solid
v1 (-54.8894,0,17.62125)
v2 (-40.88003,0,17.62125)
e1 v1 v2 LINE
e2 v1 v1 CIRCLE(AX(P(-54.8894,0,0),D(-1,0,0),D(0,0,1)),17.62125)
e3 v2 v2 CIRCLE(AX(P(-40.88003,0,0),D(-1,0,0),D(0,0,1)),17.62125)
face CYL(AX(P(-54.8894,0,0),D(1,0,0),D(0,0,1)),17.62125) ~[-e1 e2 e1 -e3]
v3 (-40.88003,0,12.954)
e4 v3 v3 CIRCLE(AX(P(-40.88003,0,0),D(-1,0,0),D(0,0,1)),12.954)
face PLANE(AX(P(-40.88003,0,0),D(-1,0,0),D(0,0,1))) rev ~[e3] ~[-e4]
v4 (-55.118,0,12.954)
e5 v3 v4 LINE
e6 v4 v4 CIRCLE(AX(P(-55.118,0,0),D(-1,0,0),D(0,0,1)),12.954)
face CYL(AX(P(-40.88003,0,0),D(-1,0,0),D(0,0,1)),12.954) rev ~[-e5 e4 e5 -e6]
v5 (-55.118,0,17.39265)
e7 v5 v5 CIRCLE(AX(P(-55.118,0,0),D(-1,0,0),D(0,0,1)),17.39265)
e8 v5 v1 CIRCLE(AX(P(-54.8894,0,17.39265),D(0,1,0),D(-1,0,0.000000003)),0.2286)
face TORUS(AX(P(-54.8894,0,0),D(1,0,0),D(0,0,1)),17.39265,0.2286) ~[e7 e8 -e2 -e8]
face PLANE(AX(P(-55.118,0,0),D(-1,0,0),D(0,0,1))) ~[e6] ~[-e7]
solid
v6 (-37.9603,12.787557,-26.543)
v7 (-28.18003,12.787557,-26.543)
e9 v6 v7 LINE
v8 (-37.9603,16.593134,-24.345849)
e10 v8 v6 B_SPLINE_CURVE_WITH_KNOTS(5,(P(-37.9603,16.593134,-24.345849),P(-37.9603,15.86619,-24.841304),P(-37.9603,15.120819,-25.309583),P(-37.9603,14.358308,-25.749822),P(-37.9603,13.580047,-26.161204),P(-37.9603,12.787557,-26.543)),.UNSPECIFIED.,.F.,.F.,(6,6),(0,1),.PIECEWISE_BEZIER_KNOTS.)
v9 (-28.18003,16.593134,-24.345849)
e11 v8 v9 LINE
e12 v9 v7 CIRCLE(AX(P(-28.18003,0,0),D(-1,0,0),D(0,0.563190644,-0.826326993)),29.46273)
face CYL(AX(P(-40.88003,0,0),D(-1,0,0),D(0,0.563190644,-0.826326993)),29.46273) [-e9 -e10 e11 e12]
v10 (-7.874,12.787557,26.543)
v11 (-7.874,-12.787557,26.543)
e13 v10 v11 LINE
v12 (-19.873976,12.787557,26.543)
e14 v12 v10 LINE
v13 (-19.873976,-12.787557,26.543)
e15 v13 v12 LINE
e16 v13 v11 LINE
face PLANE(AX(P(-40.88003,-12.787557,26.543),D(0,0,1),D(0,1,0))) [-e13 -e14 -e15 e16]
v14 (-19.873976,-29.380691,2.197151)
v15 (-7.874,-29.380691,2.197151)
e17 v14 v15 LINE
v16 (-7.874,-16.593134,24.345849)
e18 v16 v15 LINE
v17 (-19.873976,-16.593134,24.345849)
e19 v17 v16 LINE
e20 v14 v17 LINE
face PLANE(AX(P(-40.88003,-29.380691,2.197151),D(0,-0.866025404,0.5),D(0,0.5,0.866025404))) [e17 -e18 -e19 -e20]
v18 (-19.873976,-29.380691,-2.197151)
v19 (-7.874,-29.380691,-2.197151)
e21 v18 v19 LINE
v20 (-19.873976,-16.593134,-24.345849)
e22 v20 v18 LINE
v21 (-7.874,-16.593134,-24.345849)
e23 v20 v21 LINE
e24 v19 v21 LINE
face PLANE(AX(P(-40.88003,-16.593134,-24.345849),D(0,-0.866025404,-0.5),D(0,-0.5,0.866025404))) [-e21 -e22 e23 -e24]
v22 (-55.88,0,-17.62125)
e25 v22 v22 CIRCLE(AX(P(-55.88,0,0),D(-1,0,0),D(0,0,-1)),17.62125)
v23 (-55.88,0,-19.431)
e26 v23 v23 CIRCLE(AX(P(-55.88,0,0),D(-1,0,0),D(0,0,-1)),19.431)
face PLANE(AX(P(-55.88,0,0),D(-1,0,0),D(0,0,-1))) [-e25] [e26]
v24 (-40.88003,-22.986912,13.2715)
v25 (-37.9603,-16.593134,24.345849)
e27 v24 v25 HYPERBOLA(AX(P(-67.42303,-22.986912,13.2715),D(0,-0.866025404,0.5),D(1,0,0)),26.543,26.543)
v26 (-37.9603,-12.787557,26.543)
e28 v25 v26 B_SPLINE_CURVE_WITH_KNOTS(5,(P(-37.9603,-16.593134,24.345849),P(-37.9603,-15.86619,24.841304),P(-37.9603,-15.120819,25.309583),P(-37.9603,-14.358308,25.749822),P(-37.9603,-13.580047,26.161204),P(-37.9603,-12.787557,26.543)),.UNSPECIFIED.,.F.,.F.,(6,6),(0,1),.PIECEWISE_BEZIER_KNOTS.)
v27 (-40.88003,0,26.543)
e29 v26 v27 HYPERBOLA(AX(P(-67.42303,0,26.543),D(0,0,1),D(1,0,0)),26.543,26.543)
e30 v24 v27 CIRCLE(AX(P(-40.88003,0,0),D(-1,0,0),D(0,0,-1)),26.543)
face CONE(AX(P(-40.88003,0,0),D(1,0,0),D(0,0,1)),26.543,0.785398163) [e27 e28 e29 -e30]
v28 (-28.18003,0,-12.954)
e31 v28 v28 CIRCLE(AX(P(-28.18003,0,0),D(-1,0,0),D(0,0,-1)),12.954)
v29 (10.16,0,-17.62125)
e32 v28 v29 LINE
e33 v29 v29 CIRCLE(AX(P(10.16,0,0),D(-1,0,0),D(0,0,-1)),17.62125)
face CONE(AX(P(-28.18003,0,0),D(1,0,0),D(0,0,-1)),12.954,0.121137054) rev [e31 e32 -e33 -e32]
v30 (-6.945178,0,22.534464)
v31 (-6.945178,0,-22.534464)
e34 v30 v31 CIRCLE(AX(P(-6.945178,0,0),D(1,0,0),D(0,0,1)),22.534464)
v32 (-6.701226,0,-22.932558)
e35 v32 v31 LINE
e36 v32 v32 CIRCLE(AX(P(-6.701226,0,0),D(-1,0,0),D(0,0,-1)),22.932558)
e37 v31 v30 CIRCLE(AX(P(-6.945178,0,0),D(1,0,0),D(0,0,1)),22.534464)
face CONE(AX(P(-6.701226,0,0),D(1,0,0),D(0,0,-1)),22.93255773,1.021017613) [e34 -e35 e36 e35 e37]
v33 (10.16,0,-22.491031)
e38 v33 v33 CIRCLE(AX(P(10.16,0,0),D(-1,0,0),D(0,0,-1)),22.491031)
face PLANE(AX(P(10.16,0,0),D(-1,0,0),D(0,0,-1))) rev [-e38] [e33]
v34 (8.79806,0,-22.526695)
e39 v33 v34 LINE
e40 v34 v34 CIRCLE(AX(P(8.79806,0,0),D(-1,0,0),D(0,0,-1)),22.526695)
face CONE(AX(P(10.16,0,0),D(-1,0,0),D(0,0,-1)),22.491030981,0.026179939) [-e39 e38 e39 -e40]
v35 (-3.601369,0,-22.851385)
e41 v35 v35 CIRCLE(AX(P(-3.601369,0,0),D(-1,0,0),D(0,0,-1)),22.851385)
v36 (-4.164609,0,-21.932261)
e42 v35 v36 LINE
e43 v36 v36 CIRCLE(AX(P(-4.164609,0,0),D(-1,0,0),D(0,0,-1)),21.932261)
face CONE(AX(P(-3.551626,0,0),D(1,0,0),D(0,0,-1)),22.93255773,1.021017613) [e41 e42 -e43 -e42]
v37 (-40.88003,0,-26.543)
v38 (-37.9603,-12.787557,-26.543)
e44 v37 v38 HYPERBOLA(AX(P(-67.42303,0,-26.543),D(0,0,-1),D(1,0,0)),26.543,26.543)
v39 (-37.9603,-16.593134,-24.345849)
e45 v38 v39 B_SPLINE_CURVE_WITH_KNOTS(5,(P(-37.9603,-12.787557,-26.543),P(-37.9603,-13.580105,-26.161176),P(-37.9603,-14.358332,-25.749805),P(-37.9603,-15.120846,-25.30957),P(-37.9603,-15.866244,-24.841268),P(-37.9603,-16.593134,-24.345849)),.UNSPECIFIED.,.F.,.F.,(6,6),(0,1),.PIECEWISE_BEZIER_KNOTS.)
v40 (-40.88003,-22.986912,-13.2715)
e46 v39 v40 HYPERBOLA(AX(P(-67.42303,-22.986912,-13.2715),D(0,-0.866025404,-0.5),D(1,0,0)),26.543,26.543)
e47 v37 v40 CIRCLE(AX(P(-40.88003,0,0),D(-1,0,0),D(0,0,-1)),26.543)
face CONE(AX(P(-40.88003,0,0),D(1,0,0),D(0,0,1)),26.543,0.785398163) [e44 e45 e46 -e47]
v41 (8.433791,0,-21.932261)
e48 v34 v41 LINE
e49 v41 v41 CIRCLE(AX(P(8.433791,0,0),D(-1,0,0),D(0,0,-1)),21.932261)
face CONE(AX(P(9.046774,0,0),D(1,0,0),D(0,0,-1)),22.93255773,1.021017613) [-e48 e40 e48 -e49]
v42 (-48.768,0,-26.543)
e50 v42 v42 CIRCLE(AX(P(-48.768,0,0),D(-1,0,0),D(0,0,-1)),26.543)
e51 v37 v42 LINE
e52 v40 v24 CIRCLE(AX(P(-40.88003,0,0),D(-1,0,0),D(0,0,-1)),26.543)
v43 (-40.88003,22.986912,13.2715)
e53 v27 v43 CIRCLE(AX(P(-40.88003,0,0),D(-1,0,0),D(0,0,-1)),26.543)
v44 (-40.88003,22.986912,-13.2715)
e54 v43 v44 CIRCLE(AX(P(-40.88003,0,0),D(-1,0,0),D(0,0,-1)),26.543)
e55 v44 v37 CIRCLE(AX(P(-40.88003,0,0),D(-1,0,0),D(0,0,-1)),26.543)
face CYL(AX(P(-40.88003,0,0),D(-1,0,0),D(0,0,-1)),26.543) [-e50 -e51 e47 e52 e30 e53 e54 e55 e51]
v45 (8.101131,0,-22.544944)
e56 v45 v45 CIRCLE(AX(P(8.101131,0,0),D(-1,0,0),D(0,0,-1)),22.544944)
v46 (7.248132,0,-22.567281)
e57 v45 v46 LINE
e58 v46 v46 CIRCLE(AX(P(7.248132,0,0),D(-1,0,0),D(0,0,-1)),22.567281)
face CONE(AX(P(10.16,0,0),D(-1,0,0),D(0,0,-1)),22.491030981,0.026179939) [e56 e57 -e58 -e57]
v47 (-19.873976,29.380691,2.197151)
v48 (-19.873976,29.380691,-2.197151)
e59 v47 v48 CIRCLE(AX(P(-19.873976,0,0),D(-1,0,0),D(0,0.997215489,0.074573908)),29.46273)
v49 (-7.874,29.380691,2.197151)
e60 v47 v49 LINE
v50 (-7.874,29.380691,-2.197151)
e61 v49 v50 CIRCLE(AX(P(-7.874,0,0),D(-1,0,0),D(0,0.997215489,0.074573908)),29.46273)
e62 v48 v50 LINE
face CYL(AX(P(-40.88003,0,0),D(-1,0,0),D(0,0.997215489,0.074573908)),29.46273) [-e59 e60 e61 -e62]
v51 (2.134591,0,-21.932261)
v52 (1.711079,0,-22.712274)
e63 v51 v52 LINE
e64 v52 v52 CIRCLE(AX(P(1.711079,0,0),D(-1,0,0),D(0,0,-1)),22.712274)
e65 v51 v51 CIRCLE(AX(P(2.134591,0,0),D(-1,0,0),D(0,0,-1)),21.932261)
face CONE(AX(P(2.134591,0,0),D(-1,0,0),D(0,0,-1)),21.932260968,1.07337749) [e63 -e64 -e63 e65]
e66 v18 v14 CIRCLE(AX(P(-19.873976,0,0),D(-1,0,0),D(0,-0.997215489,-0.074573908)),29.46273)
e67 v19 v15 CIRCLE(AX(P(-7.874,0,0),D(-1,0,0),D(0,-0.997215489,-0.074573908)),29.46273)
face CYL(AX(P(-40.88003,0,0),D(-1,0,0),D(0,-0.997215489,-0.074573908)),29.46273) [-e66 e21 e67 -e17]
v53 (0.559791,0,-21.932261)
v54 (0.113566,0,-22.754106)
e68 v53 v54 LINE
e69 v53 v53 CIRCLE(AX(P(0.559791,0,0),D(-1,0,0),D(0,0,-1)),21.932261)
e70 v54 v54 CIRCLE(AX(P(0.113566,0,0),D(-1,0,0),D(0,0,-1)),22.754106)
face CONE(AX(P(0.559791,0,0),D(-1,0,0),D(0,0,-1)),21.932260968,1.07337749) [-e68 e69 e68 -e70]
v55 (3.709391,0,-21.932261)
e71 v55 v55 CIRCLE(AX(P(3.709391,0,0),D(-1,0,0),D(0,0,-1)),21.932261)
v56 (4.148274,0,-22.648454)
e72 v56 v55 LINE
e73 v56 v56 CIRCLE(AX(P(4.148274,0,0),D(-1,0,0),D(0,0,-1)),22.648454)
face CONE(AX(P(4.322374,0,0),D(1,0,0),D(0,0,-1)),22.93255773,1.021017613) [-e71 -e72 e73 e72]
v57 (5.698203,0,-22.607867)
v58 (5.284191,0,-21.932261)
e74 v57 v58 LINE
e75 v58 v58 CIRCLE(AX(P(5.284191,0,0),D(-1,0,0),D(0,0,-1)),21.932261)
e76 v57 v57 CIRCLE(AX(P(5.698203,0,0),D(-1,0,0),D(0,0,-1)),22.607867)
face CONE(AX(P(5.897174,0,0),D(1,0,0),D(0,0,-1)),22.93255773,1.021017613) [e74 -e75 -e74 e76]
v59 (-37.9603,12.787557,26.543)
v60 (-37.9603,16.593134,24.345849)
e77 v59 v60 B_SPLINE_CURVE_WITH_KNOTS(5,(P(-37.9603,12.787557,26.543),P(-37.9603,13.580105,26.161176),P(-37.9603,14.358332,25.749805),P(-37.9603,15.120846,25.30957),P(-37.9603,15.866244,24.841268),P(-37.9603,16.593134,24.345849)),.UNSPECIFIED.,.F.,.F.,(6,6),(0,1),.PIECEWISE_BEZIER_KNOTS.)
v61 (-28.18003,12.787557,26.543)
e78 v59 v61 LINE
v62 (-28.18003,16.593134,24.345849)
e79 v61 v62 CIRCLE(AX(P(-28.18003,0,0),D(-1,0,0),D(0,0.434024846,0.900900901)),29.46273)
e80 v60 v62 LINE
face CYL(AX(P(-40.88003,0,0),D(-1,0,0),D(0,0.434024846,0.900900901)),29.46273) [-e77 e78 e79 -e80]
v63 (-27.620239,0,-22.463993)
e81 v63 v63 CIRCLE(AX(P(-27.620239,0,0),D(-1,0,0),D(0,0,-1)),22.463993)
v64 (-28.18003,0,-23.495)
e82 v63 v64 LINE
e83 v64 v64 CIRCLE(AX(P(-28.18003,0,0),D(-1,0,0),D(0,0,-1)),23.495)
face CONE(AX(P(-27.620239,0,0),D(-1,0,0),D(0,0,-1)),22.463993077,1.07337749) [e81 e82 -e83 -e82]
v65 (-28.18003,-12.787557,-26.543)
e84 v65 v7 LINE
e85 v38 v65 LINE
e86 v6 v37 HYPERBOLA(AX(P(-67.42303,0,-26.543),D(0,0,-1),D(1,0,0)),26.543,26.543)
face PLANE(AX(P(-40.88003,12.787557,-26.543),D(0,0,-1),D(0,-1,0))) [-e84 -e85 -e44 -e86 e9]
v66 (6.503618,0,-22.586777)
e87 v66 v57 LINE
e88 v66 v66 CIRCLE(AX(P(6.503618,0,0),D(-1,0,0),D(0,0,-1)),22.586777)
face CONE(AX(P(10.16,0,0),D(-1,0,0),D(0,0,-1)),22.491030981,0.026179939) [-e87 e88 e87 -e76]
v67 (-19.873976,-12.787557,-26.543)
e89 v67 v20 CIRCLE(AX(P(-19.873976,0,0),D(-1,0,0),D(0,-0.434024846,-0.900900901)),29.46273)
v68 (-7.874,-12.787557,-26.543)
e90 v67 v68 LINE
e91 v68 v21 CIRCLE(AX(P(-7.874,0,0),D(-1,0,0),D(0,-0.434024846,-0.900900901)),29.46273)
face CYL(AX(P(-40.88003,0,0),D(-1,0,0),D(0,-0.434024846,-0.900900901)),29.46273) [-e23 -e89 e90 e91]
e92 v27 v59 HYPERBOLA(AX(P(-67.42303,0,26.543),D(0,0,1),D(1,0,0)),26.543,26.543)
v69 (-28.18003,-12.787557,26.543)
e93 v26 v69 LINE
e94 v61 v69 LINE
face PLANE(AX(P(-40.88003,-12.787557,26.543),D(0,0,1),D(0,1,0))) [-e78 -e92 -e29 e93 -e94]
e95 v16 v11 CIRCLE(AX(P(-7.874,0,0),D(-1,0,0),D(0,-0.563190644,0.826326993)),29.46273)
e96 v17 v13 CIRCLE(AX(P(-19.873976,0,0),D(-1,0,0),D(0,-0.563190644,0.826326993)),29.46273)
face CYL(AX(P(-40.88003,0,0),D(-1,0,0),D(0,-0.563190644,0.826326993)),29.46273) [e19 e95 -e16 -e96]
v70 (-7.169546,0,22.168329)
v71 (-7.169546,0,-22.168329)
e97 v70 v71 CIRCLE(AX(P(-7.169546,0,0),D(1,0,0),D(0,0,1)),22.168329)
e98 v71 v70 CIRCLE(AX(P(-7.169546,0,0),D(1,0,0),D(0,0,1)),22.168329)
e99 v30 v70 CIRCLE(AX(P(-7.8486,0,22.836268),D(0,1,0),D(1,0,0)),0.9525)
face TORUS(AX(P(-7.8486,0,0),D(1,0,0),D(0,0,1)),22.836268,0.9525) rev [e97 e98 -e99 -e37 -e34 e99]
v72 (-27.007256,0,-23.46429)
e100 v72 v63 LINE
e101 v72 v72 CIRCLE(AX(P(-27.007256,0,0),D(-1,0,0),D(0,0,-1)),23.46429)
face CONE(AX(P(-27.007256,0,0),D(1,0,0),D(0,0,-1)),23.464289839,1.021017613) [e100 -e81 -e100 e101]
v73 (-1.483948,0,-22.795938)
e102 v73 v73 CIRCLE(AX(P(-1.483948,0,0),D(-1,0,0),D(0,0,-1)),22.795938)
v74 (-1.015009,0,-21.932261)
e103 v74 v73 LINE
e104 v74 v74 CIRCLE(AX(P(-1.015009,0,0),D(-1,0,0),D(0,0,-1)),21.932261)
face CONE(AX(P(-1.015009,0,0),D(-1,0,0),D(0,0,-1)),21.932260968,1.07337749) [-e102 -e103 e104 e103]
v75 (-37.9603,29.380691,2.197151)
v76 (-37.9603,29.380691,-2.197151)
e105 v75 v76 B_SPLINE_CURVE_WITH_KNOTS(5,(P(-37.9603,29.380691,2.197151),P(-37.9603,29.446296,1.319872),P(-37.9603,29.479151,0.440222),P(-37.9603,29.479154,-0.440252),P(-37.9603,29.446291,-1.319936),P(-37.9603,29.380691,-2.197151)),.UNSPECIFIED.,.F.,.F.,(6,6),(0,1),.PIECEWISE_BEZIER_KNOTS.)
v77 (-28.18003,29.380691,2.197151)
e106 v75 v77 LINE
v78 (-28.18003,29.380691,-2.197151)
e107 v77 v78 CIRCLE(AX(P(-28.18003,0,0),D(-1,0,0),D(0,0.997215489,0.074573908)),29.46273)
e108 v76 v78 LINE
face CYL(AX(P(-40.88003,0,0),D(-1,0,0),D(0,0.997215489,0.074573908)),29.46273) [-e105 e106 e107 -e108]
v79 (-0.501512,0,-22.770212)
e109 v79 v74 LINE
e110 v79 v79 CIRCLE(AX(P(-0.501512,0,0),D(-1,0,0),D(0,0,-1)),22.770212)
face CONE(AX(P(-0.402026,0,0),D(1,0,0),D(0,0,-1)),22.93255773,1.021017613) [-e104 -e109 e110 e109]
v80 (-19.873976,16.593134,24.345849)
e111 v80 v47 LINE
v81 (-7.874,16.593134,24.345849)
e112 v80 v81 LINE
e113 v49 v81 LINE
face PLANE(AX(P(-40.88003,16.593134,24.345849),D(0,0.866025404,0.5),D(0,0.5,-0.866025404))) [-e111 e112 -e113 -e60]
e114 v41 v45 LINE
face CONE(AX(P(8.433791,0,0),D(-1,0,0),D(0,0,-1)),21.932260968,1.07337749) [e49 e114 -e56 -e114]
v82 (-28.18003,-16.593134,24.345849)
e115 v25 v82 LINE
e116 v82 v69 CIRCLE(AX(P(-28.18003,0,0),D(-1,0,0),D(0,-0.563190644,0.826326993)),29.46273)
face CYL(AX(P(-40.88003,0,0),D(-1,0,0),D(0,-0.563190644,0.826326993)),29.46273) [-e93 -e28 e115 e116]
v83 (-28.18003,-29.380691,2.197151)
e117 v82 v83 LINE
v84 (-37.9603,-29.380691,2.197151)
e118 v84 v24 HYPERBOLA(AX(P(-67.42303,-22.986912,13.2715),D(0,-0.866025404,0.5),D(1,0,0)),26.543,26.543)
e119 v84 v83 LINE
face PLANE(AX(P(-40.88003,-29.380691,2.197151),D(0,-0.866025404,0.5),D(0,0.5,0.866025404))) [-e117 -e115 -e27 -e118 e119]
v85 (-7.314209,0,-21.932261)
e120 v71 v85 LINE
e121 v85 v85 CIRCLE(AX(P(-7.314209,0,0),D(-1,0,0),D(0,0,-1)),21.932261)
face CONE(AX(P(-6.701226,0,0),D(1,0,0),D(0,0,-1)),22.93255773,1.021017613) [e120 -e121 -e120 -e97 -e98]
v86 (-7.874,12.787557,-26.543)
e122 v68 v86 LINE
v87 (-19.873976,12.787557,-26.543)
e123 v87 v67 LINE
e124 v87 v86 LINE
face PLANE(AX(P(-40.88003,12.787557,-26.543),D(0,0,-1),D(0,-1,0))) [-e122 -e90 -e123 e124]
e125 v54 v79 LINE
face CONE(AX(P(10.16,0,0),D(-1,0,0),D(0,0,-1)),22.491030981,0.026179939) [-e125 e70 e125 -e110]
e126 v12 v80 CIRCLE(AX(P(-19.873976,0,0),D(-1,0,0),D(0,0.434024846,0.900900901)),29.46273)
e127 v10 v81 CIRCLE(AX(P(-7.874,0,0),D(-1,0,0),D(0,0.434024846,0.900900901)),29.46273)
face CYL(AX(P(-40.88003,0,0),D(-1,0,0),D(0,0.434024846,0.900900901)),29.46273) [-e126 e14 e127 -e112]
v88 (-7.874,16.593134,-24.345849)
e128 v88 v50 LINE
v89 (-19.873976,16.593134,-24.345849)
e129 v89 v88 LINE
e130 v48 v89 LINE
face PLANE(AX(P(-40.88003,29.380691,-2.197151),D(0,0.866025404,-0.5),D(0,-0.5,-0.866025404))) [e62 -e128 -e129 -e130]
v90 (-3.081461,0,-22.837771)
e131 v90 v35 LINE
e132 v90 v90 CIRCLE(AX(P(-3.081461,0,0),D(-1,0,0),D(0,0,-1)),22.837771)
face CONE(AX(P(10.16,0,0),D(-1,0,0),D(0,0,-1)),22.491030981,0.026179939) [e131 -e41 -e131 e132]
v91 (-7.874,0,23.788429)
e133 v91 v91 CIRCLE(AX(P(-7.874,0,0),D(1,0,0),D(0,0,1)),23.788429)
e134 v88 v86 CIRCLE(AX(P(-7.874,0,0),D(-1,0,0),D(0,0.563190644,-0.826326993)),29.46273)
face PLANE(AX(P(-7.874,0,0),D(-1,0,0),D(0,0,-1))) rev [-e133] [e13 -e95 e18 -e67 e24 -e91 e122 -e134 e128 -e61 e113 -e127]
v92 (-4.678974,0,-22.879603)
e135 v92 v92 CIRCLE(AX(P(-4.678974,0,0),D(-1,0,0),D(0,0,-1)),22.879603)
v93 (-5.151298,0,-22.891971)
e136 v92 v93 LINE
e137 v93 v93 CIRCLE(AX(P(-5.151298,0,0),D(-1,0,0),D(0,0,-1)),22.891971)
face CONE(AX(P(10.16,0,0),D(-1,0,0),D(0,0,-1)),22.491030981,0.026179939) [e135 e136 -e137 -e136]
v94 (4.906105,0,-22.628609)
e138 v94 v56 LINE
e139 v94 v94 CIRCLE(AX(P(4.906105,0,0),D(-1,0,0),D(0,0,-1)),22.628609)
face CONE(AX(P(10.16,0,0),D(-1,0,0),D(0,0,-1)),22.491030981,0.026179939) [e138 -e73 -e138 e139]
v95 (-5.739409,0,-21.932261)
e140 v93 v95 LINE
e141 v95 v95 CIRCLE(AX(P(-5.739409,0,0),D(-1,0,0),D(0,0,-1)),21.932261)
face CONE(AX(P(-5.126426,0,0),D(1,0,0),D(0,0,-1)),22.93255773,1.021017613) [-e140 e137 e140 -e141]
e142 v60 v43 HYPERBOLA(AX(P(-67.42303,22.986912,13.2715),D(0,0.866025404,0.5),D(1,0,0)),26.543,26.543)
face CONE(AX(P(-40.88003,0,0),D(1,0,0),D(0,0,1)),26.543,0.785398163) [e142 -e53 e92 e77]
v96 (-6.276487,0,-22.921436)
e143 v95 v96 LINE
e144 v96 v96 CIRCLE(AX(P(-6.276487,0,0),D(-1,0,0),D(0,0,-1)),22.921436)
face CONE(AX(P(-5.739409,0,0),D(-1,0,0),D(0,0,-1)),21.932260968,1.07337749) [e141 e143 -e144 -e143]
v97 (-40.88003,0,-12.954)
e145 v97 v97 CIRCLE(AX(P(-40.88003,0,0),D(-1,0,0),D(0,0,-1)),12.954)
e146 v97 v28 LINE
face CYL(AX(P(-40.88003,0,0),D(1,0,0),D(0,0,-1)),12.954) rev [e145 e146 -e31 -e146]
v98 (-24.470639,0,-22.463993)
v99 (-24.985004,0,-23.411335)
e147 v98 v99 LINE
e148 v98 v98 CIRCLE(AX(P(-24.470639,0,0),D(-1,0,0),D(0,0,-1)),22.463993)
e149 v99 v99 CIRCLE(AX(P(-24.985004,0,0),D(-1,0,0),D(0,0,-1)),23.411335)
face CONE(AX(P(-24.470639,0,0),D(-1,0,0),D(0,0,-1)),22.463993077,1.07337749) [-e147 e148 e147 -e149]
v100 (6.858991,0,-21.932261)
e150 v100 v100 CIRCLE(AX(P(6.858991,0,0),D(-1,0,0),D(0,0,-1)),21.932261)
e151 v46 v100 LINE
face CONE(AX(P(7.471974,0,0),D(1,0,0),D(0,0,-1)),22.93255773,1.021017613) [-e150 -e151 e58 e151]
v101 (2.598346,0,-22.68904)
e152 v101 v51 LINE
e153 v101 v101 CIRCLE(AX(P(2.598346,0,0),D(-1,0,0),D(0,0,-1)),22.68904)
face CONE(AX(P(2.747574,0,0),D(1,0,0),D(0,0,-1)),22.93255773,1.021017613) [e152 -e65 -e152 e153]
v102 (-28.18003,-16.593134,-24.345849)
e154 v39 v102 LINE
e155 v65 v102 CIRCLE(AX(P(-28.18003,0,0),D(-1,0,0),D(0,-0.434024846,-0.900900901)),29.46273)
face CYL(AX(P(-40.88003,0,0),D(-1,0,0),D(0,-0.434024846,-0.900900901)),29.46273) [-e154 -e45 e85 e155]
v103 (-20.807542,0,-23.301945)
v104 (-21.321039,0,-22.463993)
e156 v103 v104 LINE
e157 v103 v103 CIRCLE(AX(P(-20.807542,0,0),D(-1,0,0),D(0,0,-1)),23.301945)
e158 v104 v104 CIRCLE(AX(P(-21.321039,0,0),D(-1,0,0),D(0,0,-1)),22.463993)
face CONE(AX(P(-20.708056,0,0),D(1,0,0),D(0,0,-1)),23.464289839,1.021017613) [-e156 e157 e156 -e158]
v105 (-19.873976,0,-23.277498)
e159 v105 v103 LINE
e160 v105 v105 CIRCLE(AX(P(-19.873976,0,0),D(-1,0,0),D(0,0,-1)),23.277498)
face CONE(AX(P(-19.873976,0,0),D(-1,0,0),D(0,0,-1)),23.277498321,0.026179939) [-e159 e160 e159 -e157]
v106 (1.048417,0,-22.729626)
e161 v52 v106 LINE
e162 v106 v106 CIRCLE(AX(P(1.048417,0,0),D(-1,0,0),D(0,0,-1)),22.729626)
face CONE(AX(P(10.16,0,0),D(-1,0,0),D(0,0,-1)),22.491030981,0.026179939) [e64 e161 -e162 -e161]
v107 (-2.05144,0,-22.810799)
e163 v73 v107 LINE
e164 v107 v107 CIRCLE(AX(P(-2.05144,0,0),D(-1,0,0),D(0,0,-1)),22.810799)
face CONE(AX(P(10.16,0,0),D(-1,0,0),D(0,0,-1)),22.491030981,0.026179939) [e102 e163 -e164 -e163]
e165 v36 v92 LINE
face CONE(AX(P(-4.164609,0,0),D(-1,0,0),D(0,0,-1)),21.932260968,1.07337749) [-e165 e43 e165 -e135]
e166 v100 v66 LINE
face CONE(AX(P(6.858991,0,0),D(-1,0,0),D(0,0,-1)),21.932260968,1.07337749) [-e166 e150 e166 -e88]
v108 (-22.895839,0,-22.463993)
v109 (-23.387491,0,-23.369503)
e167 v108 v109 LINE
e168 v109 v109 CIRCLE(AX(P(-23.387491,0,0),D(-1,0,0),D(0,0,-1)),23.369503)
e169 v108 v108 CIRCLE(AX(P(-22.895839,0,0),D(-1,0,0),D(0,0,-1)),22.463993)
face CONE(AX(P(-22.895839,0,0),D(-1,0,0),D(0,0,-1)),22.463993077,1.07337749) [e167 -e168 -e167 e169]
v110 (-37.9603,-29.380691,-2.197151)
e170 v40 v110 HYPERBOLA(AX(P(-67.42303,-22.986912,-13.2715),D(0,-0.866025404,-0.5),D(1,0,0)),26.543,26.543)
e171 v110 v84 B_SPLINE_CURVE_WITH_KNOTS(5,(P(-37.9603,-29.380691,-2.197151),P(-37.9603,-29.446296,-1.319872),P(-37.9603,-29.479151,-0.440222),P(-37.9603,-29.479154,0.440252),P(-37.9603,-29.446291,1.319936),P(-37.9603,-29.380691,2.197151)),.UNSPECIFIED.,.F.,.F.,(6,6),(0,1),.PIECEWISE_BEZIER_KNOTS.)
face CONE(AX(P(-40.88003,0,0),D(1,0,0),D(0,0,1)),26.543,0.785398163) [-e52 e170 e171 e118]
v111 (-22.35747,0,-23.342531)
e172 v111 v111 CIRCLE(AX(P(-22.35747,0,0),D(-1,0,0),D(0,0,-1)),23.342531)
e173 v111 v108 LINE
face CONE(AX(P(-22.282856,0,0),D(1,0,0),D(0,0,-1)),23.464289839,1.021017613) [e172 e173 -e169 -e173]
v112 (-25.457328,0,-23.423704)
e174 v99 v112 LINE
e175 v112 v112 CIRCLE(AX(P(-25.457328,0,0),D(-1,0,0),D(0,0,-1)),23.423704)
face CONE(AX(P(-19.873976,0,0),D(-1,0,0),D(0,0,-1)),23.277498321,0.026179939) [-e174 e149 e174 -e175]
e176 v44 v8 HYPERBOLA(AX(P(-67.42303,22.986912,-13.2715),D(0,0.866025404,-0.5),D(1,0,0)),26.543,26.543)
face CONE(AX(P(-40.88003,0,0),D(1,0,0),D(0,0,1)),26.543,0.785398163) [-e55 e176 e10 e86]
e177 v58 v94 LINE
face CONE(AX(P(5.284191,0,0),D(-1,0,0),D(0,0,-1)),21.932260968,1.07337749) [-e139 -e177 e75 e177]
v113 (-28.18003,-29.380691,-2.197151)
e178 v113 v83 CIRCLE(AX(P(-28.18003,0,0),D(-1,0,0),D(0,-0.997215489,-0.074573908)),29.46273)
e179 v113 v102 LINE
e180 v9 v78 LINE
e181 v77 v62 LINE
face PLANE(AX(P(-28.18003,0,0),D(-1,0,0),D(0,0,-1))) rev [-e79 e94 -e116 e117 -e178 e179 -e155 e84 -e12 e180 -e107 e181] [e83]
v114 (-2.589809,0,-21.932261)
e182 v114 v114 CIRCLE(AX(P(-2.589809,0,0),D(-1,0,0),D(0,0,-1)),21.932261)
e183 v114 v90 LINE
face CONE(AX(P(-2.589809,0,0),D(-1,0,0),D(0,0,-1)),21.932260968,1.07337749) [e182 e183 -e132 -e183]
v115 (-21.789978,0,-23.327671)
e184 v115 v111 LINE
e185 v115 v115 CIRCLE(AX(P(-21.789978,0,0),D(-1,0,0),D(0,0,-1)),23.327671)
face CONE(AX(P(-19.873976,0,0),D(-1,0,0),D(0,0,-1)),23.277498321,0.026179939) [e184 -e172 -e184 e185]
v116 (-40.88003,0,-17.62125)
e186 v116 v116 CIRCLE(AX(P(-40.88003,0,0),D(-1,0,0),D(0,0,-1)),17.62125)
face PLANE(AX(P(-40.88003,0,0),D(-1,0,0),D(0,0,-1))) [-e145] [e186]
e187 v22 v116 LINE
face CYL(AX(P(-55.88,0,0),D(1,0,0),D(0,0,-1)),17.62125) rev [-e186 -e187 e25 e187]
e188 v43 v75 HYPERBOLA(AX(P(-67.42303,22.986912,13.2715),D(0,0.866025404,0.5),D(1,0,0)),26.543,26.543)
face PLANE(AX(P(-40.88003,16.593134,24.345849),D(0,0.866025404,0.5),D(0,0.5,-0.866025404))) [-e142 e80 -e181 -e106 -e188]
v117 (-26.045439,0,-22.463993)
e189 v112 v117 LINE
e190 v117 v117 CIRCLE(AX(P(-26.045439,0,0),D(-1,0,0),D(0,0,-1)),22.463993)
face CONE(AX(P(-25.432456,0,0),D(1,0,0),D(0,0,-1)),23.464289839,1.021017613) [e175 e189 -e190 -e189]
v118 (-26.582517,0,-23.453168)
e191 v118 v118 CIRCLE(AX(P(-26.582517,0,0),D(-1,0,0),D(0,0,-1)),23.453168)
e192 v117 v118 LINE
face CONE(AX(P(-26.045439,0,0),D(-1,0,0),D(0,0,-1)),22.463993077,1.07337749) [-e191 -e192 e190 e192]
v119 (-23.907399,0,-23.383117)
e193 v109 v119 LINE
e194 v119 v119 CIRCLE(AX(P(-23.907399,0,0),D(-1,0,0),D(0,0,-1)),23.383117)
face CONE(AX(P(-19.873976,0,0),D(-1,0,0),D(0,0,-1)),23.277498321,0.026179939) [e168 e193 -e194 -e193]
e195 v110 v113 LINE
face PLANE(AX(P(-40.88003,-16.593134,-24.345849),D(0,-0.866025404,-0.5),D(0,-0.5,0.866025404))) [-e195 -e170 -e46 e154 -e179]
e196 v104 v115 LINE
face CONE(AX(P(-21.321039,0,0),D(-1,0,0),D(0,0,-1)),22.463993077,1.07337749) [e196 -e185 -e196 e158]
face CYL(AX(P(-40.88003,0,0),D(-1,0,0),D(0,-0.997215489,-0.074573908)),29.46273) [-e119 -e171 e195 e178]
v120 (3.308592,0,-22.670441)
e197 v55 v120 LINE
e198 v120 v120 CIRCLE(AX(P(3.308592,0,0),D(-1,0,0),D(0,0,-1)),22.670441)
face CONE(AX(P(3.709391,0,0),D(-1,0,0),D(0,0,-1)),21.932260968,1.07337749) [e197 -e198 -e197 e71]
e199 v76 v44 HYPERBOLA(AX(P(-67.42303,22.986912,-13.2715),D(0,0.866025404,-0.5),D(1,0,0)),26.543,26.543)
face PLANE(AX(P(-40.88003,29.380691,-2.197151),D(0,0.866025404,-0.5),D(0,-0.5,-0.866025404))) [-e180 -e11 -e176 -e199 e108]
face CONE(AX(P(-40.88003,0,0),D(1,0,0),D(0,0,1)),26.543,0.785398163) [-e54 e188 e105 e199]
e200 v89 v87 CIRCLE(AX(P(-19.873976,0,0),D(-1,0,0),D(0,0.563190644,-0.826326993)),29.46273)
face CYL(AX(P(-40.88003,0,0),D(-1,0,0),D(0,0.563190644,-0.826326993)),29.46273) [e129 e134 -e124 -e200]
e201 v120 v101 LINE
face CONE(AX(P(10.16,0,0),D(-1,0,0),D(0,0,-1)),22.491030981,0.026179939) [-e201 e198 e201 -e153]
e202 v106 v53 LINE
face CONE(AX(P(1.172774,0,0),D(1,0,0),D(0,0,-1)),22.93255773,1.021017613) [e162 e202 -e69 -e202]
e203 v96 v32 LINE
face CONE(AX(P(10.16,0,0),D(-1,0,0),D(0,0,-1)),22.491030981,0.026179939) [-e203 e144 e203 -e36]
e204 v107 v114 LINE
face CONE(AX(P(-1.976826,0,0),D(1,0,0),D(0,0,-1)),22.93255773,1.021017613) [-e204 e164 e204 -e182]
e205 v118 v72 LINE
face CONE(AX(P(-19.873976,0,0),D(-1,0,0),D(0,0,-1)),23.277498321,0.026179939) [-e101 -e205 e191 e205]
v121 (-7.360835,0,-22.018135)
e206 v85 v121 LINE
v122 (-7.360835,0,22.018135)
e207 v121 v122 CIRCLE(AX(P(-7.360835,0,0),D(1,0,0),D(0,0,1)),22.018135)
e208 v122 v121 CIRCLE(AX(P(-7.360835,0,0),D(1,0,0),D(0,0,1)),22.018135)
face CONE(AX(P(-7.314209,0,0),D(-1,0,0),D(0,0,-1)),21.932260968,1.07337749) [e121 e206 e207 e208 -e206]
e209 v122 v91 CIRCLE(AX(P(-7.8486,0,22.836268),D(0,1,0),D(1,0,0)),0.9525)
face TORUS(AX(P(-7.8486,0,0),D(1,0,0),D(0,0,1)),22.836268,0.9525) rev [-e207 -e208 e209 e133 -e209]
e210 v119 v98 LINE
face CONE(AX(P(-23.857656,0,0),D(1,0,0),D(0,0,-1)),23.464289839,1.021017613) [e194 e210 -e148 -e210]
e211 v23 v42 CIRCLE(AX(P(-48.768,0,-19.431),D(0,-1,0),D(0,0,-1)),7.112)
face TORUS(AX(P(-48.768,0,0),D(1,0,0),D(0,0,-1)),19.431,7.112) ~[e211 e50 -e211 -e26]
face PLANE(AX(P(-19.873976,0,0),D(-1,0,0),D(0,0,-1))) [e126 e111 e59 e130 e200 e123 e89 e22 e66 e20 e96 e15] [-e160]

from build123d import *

# Parameters (mm, degrees)
LPATTERN6_COUNT    = 5
LPATTERN6_PITCH    = 1.5748
LPATTERN7_COUNT    = 11
LPATTERN7_PITCH    = 1.5748
SKETCH12_OUTSIDE_W = 140.978
SKETCH12_OUTSIDE_H = 140.978
CUT_EXTRUDE2_DEPTH = 52.04003
FILLET4_R          = 7.112
SKETCH19_OUTSIDE_W = 83.724
SKETCH19_OUTSIDE_H = 89.564
SKETCH19_OUTSIDE_R = 26.543
CUT_EXTRUDE3_DEPTH = 3.99796
CUT_EXTRUDE3_DRAFT = -45
SKETCH28_R         = 0.9525


with BuildPart() as part:
    # Sketch10 → Revolve2 (revolve)
    with BuildSketch(Plane.XY, mode=Mode.PRIVATE) as revolve2_sk:
        Polygon((-40.88003, 12.954), (-28.18003, 12.954), (10.16, 17.62125), (10.16, 22.491030981), (-7.874, 22.963267891), (-7.874, 53.086), (-19.873976, 53.086), (-19.873976, 23.277498321), (-28.18003, 23.495), (-28.18003, 53.086), (-40.88003, 53.086), (-40.88003, 26.543), (-55.88, 26.543), (-55.88, 17.62125), (-40.88003, 17.62125), align=None)
    revolve(revolve2_sk.sketch.rotate(Axis((0, 0, 0), (-1, 0, 0)), 90), axis=Axis((0, 0, 0), (-1, 0, 0)))  # turned: the seam where the file's is

    # Sketch26 → Cut-Revolve1 (revolve, cut)
    with BuildSketch(Plane.XY, mode=Mode.PRIVATE) as cut_revolve1_sk:
        Polygon((-28.18003, 23.495), (-27.007256271, 23.464289839), (-27.620238915, 22.463993077), align=None)
    cut_revolve1 = revolve(cut_revolve1_sk.sketch.rotate(Axis((0, 0, 0), (-1, 0, 0)), 90), axis=Axis((0, 0, 0), (-1, 0, 0)), mode=Mode.SUBTRACT)  # turned: the seam where the file's is

    # LPattern6: Cut-Revolve1 ×5
    with Locations(*[(i * LPATTERN6_PITCH, 0, 0) for i in range(1, LPATTERN6_COUNT)]):
        add(cut_revolve1, mode=Mode.SUBTRACT)

    # Sketch27 → Cut-Revolve2 (revolve, cut)
    with BuildSketch(Plane.XY, mode=Mode.PRIVATE) as cut_revolve2_sk:
        Polygon((-7.874, 22.963267891), (-6.701226271, 22.93255773), (-7.314208915, 21.932260968), align=None)
    cut_revolve2 = revolve(cut_revolve2_sk.sketch.rotate(Axis((0, 0, 0), (-1, 0, 0)), 90), axis=Axis((0, 0, 0), (-1, 0, 0)), mode=Mode.SUBTRACT)  # turned: the seam where the file's is

    # LPattern7: Cut-Revolve2 ×11
    with Locations(*[(i * LPATTERN7_PITCH, 0, 0) for i in range(1, LPATTERN7_COUNT)]):
        add(cut_revolve2, mode=Mode.SUBTRACT)

    # Sketch12 outside → Cut-Extrude2 (cut, through all)
    with BuildSketch(Plane.ZY.offset(40.88003)):
        Rectangle(SKETCH12_OUTSIDE_W, SKETCH12_OUTSIDE_H)
        with BuildLine():
            Line((-2.19715092, 29.380690715), (-24.34584908, 16.59313387))
            ThreePointArc((-24.34584908, 16.59313387), (-25.515472645, 14.731365), (-26.543, 12.787556845))
            Line((-26.543, 12.787556845), (-26.543, -12.787556845))
            ThreePointArc((-26.543, -12.787556845), (-25.515472645, -14.731365), (-24.34584908, -16.59313387))
            Line((-24.34584908, -16.59313387), (-2.19715092, -29.380690715))
            ThreePointArc((-2.19715092, -29.380690715), (0, -29.46273), (2.19715092, -29.380690715))
            Line((2.19715092, -29.380690715), (24.34584908, -16.59313387))
            ThreePointArc((24.34584908, -16.59313387), (25.515472645, -14.731365), (26.543, -12.787556845))
            Line((26.543, -12.787556845), (26.543, 12.787556845))
            ThreePointArc((26.543, 12.787556845), (25.515472645, 14.731365), (24.34584908, 16.59313387))
            Line((24.34584908, 16.59313387), (2.19715092, 29.380690715))
            ThreePointArc((2.19715092, 29.380690715), (0, 29.46273), (-2.19715092, 29.380690715))
        make_face(mode=Mode.SUBTRACT)
    extrude(amount=-CUT_EXTRUDE2_DEPTH, mode=Mode.SUBTRACT)

    # Fillet4
    fillet4_edges = [part.edges().sort_by_distance(p)[0] for p in [
        (-55.88, 0, 26.543),
    ]]
    fillet(fillet4_edges, radius=FILLET4_R)


with BuildPart() as body_2:
    # Sketch30 → Revolve8 (revolve)
    with BuildSketch(Plane.XY, mode=Mode.PRIVATE) as revolve8_sk:
        with BuildLine():
            Line((-54.8894, 17.62125), (-40.88003, 17.62125))
            Line((-40.88003, 17.62125), (-40.88003, 12.954))
            Line((-40.88003, 12.954), (-55.118, 12.954))
            Line((-55.118, 12.954), (-55.118, 17.39265))
            ThreePointArc((-55.118, 17.39265), (-55.05104461, 17.55429461), (-54.8894, 17.62125))
        make_face()
    revolve(revolve8_sk.sketch.rotate(Axis((0, 0, 0), (-1, 0, 0)), 270), axis=Axis((0, 0, 0), (-1, 0, 0)))  # turned: the seam where the file's is


with BuildPart() as cut_extrude3_tool:
    # Sketch19 outside → Cut-Extrude3 (with draft: the straight prism first)
    with BuildSketch(Plane.ZY.offset(40.88003)):
        Rectangle(SKETCH19_OUTSIDE_W, SKETCH19_OUTSIDE_H)
        Circle(SKETCH19_OUTSIDE_R, mode=Mode.SUBTRACT)
    extrude(amount=-CUT_EXTRUDE3_DEPTH)
    # Cut-Extrude3: the draft: its side faces are tilted about the plane it starts from
    cut_extrude3_sides = [cut_extrude3_tool.faces().sort_by_distance(p)[0] for p in [
        (-38.88105, -44.782, 0),
        (-38.88105, 0, 41.862),
        (-38.88105, 44.782, 0),
        (-38.88105, 0, -41.862),
        (-38.88105, 0, -26.543),
    ]]
    draft(cut_extrude3_sides, Plane.ZY.offset(40.88003), CUT_EXTRUDE3_DRAFT)


with BuildPart() as part_1:
    add(part.part)

    # Cut-Extrude3: cut by cut_extrude3_tool
    add(cut_extrude3_tool.part, mode=Mode.SUBTRACT)

    # Sketch28 → Cut-Revolve3 (revolve, cut)
    with BuildSketch(Plane.XY, mode=Mode.PRIVATE) as cut_revolve3_sk:
        with Locations((-7.8486, -22.836267891)):
            Circle(SKETCH28_R)
    revolve(cut_revolve3_sk.sketch.rotate(Axis((10.16, 0, 0), (-1, 0, 0)), 90), axis=Axis((10.16, 0, 0), (-1, 0, 0)), mode=Mode.SUBTRACT)  # turned: the seam where the file's is


solid = Compound([body_2.part, part_1.part])
